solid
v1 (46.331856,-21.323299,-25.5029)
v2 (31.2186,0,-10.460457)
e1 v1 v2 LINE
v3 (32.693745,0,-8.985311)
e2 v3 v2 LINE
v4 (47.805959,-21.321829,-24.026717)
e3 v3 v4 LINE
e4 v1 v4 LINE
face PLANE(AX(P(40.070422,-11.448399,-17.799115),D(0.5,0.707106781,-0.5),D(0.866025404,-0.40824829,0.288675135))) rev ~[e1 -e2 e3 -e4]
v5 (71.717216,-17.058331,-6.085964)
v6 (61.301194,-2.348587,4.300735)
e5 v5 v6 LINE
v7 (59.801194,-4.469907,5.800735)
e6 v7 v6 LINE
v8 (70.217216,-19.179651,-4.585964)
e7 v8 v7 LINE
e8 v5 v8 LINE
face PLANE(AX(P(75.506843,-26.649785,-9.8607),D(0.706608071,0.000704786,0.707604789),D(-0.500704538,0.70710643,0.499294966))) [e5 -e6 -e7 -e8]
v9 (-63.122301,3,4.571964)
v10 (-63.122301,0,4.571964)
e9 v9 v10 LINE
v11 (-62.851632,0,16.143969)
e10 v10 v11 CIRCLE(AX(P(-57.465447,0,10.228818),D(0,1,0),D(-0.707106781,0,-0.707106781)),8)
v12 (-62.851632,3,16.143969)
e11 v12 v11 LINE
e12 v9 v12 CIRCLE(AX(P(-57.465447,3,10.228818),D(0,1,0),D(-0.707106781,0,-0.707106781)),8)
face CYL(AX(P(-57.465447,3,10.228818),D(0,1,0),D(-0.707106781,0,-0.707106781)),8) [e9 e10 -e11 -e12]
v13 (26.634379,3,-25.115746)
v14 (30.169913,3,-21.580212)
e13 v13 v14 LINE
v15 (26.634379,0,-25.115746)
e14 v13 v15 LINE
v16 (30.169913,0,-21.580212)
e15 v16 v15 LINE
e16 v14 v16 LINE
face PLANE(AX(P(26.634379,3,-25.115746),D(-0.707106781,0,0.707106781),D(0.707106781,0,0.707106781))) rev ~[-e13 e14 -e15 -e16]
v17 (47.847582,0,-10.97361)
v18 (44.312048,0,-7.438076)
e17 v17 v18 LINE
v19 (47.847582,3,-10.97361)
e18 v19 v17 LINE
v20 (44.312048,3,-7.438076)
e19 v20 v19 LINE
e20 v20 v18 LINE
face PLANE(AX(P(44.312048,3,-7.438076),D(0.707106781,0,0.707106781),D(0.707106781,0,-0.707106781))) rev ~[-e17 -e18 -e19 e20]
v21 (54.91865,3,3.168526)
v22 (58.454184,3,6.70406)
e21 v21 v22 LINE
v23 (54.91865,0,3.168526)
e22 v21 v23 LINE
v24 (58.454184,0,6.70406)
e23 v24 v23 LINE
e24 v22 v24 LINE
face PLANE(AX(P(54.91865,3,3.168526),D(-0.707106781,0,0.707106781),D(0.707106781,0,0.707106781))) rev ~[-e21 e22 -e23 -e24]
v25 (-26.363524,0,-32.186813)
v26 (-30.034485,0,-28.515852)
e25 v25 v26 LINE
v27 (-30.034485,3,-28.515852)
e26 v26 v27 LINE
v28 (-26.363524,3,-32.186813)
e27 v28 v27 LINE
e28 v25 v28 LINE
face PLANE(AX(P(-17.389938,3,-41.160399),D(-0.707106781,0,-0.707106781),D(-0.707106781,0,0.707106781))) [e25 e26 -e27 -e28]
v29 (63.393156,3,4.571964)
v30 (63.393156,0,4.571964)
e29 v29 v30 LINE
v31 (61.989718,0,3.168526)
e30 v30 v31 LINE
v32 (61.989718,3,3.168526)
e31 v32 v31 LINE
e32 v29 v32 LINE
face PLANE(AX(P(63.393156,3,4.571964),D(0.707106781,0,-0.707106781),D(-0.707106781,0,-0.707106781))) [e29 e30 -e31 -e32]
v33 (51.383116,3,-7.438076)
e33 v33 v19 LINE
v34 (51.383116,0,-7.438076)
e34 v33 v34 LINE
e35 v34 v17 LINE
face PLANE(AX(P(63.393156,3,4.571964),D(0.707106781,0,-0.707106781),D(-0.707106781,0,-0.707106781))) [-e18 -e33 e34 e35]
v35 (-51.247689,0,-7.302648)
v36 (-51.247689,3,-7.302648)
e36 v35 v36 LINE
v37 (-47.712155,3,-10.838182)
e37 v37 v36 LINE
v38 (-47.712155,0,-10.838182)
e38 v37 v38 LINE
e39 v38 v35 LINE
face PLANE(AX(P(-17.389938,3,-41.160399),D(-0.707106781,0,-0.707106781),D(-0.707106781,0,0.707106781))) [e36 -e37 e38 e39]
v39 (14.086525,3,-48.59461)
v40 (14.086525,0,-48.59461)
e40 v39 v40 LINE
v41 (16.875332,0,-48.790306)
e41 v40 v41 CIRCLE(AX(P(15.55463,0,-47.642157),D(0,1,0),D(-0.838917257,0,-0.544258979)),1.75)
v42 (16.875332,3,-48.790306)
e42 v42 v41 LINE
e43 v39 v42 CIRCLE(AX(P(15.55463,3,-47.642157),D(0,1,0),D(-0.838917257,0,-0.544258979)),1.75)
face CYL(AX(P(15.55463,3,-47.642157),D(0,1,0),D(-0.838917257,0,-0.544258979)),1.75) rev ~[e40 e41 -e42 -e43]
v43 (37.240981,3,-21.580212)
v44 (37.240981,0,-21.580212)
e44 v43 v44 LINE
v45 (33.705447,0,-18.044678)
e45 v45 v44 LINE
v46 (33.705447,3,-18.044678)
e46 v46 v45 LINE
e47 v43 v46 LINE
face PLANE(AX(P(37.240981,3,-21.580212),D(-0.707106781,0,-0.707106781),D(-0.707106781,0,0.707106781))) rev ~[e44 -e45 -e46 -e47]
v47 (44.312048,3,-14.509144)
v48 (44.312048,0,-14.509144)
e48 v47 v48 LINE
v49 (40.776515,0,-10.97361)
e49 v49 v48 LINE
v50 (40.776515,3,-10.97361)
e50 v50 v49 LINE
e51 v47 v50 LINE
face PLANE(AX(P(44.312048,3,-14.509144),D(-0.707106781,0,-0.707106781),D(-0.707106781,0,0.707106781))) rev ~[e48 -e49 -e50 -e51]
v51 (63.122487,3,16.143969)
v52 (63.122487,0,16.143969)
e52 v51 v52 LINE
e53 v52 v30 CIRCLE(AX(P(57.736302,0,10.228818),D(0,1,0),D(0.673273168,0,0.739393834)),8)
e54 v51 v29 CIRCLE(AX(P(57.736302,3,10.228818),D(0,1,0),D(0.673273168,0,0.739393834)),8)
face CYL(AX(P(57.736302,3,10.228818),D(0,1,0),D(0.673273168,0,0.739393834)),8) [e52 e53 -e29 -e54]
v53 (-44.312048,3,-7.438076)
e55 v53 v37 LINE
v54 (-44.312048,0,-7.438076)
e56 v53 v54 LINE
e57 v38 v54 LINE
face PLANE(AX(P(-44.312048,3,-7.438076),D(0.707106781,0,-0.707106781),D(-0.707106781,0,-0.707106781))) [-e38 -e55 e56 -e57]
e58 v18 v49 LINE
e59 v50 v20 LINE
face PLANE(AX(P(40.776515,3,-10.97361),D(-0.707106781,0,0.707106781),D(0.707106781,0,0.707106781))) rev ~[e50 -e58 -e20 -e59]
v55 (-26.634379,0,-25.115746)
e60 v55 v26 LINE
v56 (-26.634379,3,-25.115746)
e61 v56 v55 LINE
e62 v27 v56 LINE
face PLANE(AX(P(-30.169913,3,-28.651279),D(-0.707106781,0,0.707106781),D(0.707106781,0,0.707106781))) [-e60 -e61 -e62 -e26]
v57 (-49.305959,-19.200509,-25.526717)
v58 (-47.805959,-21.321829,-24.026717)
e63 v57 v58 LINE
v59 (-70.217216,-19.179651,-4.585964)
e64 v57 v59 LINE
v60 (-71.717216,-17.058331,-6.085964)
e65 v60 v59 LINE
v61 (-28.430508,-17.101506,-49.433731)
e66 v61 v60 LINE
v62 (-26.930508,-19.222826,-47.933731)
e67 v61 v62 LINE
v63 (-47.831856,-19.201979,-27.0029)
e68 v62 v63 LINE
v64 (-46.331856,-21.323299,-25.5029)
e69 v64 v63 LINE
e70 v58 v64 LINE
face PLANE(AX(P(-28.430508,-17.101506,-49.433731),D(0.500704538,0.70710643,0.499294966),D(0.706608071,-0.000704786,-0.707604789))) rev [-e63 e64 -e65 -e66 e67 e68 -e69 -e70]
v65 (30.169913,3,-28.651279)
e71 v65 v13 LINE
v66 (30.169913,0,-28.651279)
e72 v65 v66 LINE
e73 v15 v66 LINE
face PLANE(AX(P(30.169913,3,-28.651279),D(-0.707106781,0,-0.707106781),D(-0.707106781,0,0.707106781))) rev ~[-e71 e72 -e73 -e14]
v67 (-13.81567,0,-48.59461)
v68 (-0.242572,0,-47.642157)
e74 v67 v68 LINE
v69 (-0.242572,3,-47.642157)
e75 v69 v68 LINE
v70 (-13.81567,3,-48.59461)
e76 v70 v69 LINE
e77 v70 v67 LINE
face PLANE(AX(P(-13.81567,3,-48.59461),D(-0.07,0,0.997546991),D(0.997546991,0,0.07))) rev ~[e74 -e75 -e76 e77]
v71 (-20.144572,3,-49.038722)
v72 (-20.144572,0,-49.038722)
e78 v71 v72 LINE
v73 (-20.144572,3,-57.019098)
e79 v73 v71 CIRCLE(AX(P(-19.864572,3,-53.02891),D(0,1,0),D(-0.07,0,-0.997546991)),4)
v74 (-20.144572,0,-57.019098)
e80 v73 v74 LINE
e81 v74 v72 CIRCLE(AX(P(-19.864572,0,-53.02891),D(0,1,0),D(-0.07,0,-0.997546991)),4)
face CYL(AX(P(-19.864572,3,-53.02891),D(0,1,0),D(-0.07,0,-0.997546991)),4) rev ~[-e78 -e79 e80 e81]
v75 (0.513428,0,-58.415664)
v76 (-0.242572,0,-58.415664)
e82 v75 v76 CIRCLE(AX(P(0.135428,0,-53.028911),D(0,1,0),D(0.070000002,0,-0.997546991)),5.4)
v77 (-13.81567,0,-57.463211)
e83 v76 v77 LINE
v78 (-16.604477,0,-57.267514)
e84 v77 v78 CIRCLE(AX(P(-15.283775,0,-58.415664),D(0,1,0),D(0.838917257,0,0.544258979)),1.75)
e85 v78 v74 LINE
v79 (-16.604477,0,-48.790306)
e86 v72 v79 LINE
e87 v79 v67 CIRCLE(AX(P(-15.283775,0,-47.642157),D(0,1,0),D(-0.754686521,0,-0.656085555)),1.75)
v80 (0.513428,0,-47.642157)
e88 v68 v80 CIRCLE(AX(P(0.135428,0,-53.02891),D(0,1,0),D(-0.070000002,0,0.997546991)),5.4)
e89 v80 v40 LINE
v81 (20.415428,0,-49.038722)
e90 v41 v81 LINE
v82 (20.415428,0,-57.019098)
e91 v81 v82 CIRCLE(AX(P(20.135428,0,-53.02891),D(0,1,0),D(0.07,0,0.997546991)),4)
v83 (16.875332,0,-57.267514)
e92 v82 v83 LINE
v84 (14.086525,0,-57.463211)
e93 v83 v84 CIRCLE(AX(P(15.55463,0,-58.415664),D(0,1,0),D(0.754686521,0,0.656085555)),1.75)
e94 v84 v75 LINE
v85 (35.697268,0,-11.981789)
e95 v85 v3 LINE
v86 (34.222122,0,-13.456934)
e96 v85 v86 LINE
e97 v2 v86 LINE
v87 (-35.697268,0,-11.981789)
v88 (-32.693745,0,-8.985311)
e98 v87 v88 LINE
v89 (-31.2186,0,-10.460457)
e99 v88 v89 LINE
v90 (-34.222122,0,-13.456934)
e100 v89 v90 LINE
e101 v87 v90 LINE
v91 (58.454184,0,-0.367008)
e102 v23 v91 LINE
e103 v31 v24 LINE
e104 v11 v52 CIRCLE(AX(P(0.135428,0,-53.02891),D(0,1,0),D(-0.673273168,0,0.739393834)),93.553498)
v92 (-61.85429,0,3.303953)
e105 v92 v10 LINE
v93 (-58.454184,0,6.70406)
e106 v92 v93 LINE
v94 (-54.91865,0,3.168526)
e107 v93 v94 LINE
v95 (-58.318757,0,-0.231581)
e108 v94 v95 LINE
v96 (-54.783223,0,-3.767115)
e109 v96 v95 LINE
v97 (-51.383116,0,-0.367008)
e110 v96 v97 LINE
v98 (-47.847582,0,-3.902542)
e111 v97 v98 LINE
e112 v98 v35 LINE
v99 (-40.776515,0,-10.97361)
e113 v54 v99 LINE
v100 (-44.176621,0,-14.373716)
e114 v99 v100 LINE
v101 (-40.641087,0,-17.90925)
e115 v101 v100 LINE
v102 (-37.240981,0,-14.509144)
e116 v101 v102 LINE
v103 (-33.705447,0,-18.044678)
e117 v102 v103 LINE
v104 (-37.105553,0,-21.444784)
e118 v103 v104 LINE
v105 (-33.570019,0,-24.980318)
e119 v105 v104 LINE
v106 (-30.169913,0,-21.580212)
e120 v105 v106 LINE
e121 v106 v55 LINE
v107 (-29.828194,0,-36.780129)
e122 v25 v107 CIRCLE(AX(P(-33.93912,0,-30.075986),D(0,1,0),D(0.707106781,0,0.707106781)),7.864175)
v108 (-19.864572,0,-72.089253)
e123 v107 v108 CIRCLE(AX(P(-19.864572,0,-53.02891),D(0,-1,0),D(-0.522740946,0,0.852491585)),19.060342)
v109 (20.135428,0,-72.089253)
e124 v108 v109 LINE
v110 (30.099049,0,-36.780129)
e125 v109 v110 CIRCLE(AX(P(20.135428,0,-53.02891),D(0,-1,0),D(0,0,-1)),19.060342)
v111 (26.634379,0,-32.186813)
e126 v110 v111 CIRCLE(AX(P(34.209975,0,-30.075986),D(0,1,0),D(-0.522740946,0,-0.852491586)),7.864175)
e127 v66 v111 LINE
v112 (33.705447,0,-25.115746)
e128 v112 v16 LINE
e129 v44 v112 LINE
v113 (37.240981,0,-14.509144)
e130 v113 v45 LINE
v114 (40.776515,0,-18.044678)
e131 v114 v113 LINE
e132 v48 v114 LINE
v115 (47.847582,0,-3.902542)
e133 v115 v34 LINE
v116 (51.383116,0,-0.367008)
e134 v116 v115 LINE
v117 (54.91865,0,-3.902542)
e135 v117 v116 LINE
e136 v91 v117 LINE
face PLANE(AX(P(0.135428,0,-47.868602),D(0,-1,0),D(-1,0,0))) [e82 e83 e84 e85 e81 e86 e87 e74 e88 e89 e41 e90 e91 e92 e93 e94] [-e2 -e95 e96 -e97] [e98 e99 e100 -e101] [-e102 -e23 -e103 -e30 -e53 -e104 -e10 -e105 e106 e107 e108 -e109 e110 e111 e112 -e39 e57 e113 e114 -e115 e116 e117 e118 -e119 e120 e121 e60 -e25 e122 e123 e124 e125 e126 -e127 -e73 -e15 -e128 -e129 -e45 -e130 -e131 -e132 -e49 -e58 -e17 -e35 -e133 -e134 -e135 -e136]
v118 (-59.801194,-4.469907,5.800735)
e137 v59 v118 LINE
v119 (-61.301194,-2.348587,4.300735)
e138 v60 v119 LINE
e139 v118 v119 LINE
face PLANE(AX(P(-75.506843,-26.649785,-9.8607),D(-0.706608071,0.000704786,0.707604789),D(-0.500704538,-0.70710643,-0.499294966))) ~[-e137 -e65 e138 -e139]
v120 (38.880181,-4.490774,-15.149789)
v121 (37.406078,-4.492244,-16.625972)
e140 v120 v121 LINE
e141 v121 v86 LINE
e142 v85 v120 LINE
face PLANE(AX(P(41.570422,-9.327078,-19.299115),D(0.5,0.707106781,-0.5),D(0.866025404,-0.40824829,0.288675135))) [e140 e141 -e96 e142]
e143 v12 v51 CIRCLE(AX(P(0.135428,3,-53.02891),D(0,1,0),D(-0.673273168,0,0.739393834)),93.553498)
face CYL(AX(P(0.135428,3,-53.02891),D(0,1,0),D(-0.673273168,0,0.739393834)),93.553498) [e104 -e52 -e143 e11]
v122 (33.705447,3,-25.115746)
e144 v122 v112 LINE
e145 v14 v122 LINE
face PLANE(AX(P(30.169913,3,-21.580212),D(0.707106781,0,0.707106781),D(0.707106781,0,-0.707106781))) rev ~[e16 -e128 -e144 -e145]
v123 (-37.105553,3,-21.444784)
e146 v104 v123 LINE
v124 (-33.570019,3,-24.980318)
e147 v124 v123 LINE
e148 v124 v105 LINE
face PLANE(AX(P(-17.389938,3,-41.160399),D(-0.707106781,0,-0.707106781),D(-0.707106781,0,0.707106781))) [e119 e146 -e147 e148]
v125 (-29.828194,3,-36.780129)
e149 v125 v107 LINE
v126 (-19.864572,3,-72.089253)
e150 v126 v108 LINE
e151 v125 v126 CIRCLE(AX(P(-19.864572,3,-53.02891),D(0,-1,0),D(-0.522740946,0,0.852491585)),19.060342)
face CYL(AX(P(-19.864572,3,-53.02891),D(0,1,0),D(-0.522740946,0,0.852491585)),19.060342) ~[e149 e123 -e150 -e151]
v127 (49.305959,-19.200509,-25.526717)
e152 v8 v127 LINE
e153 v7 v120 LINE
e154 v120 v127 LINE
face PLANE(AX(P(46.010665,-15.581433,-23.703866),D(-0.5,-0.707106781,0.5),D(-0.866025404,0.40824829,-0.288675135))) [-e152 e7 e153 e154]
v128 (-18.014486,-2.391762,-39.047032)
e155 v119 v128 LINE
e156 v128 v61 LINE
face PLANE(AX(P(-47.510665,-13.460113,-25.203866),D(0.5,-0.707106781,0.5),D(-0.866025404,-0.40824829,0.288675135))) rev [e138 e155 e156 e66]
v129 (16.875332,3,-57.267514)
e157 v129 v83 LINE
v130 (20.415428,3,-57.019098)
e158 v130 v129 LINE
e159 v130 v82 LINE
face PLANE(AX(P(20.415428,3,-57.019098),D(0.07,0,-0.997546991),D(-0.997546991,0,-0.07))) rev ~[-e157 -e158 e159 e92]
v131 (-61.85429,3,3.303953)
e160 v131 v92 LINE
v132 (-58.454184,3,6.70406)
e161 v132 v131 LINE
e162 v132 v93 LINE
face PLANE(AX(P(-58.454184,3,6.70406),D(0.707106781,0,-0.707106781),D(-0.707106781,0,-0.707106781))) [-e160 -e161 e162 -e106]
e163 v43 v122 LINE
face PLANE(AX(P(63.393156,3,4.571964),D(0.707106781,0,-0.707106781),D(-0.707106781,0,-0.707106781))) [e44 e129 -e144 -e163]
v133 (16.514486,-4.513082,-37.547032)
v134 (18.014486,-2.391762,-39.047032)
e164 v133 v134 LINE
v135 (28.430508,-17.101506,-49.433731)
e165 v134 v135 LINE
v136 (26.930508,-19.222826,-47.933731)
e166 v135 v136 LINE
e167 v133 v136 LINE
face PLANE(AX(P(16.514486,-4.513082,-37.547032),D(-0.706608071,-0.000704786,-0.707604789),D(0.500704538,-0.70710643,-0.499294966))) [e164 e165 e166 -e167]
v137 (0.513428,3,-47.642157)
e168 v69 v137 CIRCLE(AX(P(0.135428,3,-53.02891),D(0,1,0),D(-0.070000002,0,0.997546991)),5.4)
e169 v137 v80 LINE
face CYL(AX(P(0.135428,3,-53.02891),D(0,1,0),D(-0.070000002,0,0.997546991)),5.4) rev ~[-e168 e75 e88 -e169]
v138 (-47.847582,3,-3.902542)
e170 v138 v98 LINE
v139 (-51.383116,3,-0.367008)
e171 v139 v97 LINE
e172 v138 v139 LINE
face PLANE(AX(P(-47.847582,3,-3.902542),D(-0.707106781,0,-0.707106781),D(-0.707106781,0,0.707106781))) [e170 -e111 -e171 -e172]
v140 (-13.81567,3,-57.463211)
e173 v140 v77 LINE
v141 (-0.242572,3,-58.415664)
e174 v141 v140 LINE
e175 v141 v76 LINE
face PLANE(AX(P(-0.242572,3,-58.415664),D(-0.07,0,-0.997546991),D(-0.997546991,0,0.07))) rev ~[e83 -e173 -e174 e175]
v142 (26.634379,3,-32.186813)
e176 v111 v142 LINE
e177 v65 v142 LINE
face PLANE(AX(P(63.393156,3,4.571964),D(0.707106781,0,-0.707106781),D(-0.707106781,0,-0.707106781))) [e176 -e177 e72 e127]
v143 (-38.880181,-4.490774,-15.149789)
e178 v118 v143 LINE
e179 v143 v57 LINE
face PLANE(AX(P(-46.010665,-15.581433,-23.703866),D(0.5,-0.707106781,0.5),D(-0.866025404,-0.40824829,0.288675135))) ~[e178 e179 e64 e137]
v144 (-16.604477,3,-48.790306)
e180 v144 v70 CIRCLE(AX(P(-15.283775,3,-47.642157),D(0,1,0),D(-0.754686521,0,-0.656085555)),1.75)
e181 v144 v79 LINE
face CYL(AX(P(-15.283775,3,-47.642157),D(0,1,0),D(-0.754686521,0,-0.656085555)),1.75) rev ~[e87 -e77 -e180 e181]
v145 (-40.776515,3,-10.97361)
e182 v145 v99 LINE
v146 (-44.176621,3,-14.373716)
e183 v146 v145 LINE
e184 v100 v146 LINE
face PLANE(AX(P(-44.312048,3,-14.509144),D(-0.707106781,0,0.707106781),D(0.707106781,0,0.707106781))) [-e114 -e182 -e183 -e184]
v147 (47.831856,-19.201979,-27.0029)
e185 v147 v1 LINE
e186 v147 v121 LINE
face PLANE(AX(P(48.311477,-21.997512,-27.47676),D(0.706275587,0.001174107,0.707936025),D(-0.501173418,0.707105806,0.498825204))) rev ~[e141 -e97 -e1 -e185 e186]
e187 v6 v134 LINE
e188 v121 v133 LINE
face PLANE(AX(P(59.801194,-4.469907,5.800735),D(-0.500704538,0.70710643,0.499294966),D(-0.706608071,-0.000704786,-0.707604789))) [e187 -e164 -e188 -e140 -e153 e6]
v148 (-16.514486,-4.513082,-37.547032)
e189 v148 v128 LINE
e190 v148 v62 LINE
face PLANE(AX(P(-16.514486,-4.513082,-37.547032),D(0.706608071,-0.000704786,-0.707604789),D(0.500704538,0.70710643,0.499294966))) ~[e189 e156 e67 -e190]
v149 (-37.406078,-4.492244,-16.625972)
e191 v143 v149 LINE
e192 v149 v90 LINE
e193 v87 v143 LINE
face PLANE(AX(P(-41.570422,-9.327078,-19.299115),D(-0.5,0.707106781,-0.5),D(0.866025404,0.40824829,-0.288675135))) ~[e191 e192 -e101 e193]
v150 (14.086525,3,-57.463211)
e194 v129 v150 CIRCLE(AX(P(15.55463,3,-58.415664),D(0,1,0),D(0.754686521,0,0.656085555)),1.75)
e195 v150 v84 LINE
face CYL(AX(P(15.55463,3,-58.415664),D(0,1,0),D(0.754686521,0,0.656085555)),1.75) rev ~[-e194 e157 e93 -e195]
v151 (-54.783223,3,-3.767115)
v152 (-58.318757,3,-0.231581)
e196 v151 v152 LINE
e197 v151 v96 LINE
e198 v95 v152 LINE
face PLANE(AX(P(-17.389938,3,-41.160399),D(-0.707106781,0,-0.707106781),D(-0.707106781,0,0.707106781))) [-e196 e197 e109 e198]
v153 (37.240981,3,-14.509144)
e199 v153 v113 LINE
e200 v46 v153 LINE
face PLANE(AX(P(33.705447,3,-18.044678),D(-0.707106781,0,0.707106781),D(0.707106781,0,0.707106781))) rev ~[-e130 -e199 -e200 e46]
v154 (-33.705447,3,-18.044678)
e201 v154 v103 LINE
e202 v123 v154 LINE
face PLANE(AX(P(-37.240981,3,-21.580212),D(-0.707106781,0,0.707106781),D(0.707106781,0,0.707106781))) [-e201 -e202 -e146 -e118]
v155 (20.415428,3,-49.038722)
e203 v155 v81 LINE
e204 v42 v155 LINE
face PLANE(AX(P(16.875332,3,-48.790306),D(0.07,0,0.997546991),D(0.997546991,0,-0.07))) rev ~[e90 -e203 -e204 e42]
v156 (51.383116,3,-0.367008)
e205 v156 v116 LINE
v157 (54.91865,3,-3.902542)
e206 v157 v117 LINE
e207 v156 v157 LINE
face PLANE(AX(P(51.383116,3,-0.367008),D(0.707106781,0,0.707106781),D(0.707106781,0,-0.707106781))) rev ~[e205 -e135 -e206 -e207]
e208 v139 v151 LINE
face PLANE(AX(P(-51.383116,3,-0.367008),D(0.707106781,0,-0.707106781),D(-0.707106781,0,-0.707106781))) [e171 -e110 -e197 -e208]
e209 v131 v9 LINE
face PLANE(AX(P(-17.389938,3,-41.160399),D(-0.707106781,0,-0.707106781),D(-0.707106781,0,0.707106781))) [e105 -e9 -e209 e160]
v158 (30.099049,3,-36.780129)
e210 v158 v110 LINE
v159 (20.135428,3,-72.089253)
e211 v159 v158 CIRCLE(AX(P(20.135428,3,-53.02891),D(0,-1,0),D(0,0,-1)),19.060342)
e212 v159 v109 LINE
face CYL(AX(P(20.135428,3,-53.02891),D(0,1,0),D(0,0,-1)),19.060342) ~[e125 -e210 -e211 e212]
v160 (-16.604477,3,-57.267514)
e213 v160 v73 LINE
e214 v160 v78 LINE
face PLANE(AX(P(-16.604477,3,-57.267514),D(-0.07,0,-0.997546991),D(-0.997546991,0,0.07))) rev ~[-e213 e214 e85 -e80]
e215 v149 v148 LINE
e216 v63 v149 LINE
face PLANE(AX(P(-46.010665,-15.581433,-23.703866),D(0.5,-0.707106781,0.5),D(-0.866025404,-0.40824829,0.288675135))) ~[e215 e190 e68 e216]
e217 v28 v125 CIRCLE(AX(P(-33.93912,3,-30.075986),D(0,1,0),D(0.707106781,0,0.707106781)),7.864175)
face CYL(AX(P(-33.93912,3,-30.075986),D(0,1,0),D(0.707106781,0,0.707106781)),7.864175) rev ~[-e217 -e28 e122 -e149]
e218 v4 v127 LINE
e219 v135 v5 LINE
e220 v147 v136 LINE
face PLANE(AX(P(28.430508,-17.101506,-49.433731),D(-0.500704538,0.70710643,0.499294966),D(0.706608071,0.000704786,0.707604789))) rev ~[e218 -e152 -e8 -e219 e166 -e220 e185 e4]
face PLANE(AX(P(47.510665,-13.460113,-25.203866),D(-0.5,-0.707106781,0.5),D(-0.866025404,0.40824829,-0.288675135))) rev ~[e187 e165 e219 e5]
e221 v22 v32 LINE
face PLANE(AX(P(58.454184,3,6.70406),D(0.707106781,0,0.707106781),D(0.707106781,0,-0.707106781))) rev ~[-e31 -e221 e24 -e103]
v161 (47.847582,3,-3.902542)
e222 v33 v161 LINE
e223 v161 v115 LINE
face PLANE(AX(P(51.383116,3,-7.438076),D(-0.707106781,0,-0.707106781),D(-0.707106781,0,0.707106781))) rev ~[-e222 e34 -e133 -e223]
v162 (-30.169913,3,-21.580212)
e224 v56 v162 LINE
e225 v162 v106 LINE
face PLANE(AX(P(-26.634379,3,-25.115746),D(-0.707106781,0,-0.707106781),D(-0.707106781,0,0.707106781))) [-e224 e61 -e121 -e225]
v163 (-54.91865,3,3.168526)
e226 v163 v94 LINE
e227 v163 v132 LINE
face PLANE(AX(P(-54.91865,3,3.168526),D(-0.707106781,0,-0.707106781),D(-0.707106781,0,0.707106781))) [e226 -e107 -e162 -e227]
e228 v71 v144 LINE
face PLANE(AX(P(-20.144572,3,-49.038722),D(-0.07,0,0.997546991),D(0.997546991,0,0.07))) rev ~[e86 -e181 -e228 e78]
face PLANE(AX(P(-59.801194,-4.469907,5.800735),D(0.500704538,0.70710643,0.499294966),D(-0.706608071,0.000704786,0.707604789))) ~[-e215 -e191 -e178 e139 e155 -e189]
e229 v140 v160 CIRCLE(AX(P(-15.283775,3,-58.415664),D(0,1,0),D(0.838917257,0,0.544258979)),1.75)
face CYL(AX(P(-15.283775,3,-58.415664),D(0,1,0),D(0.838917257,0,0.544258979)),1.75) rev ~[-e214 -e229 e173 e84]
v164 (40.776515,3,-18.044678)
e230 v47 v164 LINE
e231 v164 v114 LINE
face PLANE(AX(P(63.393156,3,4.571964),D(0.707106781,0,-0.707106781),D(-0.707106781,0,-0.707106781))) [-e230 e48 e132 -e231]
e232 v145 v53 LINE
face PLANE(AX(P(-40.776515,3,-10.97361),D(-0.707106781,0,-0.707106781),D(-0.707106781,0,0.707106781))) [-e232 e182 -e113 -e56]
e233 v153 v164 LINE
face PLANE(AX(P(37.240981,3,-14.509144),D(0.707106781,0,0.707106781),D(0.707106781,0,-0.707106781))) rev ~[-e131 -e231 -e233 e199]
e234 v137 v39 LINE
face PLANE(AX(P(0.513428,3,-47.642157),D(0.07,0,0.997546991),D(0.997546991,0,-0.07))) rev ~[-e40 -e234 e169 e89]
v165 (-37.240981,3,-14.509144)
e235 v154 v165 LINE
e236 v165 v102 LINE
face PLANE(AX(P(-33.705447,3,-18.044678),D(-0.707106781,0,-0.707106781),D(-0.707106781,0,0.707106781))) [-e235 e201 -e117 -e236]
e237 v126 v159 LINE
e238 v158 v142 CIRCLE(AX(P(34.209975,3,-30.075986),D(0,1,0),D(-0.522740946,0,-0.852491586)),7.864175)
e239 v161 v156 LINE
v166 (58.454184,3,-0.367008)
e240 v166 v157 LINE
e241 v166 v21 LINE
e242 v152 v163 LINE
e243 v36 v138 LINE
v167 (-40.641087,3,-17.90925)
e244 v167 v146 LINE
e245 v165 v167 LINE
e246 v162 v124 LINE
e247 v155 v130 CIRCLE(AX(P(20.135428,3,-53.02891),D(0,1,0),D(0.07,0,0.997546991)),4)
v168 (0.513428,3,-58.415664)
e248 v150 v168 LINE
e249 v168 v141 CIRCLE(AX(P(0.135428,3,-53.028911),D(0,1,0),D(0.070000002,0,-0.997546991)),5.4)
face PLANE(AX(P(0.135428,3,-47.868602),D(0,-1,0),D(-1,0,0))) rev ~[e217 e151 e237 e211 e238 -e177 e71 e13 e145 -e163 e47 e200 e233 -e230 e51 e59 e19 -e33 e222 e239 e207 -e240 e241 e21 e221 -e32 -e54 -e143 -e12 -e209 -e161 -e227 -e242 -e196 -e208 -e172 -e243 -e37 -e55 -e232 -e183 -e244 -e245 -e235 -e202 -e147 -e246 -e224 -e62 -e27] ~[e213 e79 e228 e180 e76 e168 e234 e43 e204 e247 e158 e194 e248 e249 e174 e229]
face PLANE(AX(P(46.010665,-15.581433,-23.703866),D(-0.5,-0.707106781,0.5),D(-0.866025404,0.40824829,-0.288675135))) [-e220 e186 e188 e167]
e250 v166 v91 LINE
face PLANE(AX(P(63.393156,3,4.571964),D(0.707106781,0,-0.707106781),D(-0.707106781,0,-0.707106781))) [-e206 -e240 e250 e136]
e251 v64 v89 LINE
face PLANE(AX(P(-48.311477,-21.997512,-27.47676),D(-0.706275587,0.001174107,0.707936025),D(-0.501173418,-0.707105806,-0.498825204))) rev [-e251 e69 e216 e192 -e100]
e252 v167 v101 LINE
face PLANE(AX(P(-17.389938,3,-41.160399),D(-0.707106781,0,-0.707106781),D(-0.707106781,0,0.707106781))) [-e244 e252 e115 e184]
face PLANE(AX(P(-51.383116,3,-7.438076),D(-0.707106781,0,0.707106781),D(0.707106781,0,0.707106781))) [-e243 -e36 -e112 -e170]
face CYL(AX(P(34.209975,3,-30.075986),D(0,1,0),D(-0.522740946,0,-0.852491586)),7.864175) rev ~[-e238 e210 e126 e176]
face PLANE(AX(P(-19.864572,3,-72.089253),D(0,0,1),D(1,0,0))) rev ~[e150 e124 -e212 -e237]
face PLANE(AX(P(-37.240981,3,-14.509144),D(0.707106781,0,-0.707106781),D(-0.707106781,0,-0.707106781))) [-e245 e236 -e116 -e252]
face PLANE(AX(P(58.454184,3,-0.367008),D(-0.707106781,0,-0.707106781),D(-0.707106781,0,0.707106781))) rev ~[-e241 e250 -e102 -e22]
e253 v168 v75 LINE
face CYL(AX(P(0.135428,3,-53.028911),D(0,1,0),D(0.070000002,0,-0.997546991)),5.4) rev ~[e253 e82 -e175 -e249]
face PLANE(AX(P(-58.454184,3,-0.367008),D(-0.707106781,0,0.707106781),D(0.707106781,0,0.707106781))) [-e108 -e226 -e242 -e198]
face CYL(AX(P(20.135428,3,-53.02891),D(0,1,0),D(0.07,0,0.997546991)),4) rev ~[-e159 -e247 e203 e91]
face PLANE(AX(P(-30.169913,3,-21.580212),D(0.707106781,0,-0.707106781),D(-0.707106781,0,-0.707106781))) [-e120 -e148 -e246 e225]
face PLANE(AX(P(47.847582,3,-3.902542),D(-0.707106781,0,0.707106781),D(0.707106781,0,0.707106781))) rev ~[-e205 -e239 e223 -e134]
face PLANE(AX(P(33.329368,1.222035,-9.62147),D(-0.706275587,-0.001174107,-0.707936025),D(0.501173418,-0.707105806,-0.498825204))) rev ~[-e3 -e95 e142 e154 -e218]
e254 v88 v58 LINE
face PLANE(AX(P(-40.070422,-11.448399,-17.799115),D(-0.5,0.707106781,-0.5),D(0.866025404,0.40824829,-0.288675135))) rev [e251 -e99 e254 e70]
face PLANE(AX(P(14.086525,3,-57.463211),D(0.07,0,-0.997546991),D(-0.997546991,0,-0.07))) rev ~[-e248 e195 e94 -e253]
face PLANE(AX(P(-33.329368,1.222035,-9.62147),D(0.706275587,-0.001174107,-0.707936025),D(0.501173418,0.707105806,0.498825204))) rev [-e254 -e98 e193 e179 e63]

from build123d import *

# Parameters (mm, degrees)
SKETCH_1_W          = 180
SKETCH_1_H          = 123.475609756
EXTRUDE_1_DEPTH     = 3
SKETCH_2_OUTSIDE_W  = 225.66
SKETCH_2_OUTSIDE_H  = 169.136
CUT_EXTRUDE_1_DEPTH = 10
EXTRUDE_3_DEPTH     = 1.5
EXTRUDE_4_DEPTH     = 3
CUT_EXTRUDE_2_DEPTH = 13
EXTRUDE_5_DEPTH     = 3
CUT_EXTRUDE_4_DEPTH = 5


with BuildPart() as part:
    # 草图1 → 凸台-拉伸1 (new body)
    with BuildSketch(Plane(origin=(0, 0, 0), x_dir=(1, 0, 0), z_dir=(0, 1, 0))):
        Rectangle(SKETCH_1_W, SKETCH_1_H)
    extrude(amount=EXTRUDE_1_DEPTH)

    # 草图2 outside → 切除-拉伸1 (cut)
    with BuildSketch(Plane(origin=(0, 3, 0), x_dir=(1, 0, 0), z_dir=(0, 1, 0))):
        Rectangle(SKETCH_2_OUTSIDE_W, SKETCH_2_OUTSIDE_H)
        with BuildLine():
            Line((63.393156076, -4.57196386), (17.660793085, 41.160399131))
            ThreePointArc((17.660793085, 41.160399131), (13.212332654, 43.192679399), (8.519172912, 41.81673793))
            ThreePointArc((8.519172912, 41.81673793), (0.135427504, 39.028910463), (-8.248317905, 41.81673793))
            ThreePointArc((-8.248317905, 41.81673793), (-12.941477647, 43.192679399), (-17.389938078, 41.160399131))
            Line((-17.389938078, 41.160399131), (-63.122301068, -4.57196386))
            ThreePointArc((-63.122301068, -4.57196386), (-65.463259353, -10.415886745), (-62.851632161, -16.14396878))
            ThreePointArc((-62.851632161, -16.14396878), (0.135427504, -40.524587109), (63.122487168, -16.14396878))
            ThreePointArc((63.122487168, -16.14396878), (65.73411436, -10.415886745), (63.393156076, -4.57196386))
        make_face(mode=Mode.SUBTRACT)
    extrude(amount=-CUT_EXTRUDE_1_DEPTH, mode=Mode.SUBTRACT)

    # 草图4 → 凸台-拉伸3 (add, symmetric)
    with BuildSketch(Plane(origin=(11.169764148, 15.796431947, -11.169764148), x_dir=(-0.8660254037844386, 0.40824829046386313, -0.288675134594813), z_dir=(-0.5000000000000001, -0.7071067811865476, 0.49999999999999983))):
        Polygon((-42.887555568, 35.134950382), (-23.8863598, 8.357630936), (-25.587706579, 7.150354633), (-44.588902348, 33.927674079), align=None)
    extrude_3 = extrude(amount=EXTRUDE_3_DEPTH, both=True)

    # 草图5 → 凸台-拉伸4 (add)
    with BuildSketch(Plane(origin=(11.919764148, 16.857092119, -11.919764148), x_dir=(0.8660254037844387, -0.408248290463863, 0.2886751345948128), z_dir=(0.49999999999999994, 0.7071067811865477, -0.4999999999999999))):
        Polygon((5.305528324, 33.262652537), (23.440849678, 58.85571886), (73.424034658, 23.437488372), (55.288713303, -2.155577951), align=None)
    extrude_4 = extrude(amount=EXTRUDE_4_DEPTH)

    # 草图6 → 切除-拉伸2 (cut)
    with BuildSketch(Plane(origin=(13.419764148, 18.978412462, -13.419764148), x_dir=(0.8660254037844387, -0.40824829046386313, 0.2886751345948128), z_dir=(0.5, 0.7071067811865477, -0.49999999999999983))):
        Polygon((17.332913893, 50.236031202), (67.316098873, 14.817800715), (73.424034658, 23.437488372), (23.440849678, 58.85571886), align=None)
    cut_extrude_2 = extrude(amount=-CUT_EXTRUDE_2_DEPTH, mode=Mode.SUBTRACT)

    # 镜向2: 凸台-拉伸3, 凸台-拉伸4, 切除-拉伸2 across plane
    add(extrude_3.mirror(Plane(origin=(0, 0, 0), x_dir=(0, 0, 1), z_dir=(1, 0, 0))))
    add(extrude_4.mirror(Plane(origin=(0, 0, 0), x_dir=(0, 0, 1), z_dir=(1, 0, 0))))
    add(cut_extrude_2.mirror(Plane(origin=(0, 0, 0), x_dir=(0, 0, 1), z_dir=(1, 0, 0))), mode=Mode.SUBTRACT)

    # 草图7 → 凸台-拉伸5 (add)
    with BuildSketch(Plane(origin=(0, 3, 0), x_dir=(1, 0, 0), z_dir=(0, 1, 0))):
        with BuildLine():
            Line((-19.864572496, 72.089252639), (20.135427504, 72.089252639))
            ThreePointArc((20.135427504, 72.089252639), (38.479418015, 58.205265935), (30.099048805, 36.780129142))
            ThreePointArc((30.099048805, 36.780129142), (26.400179556, 30.999210524), (28.649163581, 24.515174385))
            Line((28.649163581, 24.515174385), (-28.378308574, 24.515174385))
            ThreePointArc((-28.378308574, 24.515174385), (-26.129324549, 30.999210524), (-29.828193798, 36.780129142))
            ThreePointArc((-29.828193798, 36.780129142), (-38.208563008, 58.205265935), (-19.864572496, 72.089252639))
        make_face()
        with BuildLine():
            Line((20.415427504, 57.019098429), (16.875331791, 57.267514495))
            ThreePointArc((16.875331791, 57.267514495), (15.677130379, 60.161371451), (14.08652518, 57.463211003))
            Line((14.08652518, 57.463211003), (0.513427504, 58.415664216))
            ThreePointArc((0.513427504, 58.415664216), (0.135427504, 58.428910463), (-0.242572496, 58.415664216))
            Line((-0.242572496, 58.415664216), (-13.815670173, 57.463211003))
            ThreePointArc((-13.815670173, 57.463211003), (-15.406275372, 60.161371451), (-16.604476783, 57.267514495))
            Line((-16.604476783, 57.267514495), (-20.144572496, 57.019098429))
            ThreePointArc((-20.144572496, 57.019098429), (-23.864572496, 53.028910463), (-20.144572496, 49.038722498))
            Line((-20.144572496, 49.038722498), (-16.604476783, 48.790306431))
            ThreePointArc((-16.604476783, 48.790306431), (-15.406275372, 45.896449475), (-13.815670173, 48.594609923))
            Line((-13.815670173, 48.594609923), (-0.242572496, 47.64215671))
            ThreePointArc((-0.242572496, 47.64215671), (0.135427504, 47.628910463), (0.513427504, 47.64215671))
            Line((0.513427504, 47.64215671), (14.08652518, 48.594609923))
            ThreePointArc((14.08652518, 48.594609923), (15.677130379, 45.896449475), (16.875331791, 48.790306431))
            Line((16.875331791, 48.790306431), (20.415427504, 49.038722498))
            ThreePointArc((20.415427504, 49.038722498), (24.135427504, 53.028910463), (20.415427504, 57.019098429))
        make_face(mode=Mode.SUBTRACT)
    extrude(amount=-EXTRUDE_5_DEPTH)

    # 草图8 → 切除-拉伸4 (cut)
    with BuildSketch(Plane(origin=(0, 3, 0), x_dir=(1, 0, 0), z_dir=(0, 1, 0))):
        Polygon((54.918650137, -3.168525733), (58.454184043, -6.704059639), (61.989717949, -3.168525733), (58.454184043, 0.367008173), align=None)
        Polygon((51.383116231, 7.438075985), (47.847582325, 3.902542079), (51.383116231, 0.367008173), (54.918650137, 3.902542079), align=None)
        Polygon((44.31204842, 14.509143797), (40.776514514, 10.973609891), (44.31204842, 7.438075985), (47.847582325, 10.973609891), align=None)
        Polygon((37.240980608, 21.580211608), (33.705446702, 18.044677703), (37.240980608, 14.509143797), (40.776514514, 18.044677703), align=None)
        Polygon((30.169912796, 28.65127942), (26.63437889, 25.115745514), (30.169912796, 21.580211608), (33.705446702, 25.115745514), align=None)
        Polygon((-33.705446702, 25.115745514), (-30.169912796, 28.65127942), (-26.63437889, 25.115745514), (-30.169912796, 21.580211608), align=None)
        Polygon((-40.776514514, 18.044677703), (-37.240980608, 21.580211608), (-33.705446702, 18.044677703), (-37.240980608, 14.509143797), align=None)
        Polygon((-47.847582325, 10.973609891), (-44.31204842, 14.509143797), (-40.776514514, 10.973609891), (-44.31204842, 7.438075985), align=None)
        Polygon((-54.918650137, 3.902542079), (-51.383116231, 7.438075985), (-47.847582325, 3.902542079), (-51.383116231, 0.367008173), align=None)
        Polygon((-58.454184043, 0.367008173), (-54.918650137, -3.168525733), (-58.454184043, -6.704059639), (-61.989717949, -3.168525733), align=None)
    extrude(amount=-CUT_EXTRUDE_4_DEPTH, mode=Mode.SUBTRACT)


solid = part.part
